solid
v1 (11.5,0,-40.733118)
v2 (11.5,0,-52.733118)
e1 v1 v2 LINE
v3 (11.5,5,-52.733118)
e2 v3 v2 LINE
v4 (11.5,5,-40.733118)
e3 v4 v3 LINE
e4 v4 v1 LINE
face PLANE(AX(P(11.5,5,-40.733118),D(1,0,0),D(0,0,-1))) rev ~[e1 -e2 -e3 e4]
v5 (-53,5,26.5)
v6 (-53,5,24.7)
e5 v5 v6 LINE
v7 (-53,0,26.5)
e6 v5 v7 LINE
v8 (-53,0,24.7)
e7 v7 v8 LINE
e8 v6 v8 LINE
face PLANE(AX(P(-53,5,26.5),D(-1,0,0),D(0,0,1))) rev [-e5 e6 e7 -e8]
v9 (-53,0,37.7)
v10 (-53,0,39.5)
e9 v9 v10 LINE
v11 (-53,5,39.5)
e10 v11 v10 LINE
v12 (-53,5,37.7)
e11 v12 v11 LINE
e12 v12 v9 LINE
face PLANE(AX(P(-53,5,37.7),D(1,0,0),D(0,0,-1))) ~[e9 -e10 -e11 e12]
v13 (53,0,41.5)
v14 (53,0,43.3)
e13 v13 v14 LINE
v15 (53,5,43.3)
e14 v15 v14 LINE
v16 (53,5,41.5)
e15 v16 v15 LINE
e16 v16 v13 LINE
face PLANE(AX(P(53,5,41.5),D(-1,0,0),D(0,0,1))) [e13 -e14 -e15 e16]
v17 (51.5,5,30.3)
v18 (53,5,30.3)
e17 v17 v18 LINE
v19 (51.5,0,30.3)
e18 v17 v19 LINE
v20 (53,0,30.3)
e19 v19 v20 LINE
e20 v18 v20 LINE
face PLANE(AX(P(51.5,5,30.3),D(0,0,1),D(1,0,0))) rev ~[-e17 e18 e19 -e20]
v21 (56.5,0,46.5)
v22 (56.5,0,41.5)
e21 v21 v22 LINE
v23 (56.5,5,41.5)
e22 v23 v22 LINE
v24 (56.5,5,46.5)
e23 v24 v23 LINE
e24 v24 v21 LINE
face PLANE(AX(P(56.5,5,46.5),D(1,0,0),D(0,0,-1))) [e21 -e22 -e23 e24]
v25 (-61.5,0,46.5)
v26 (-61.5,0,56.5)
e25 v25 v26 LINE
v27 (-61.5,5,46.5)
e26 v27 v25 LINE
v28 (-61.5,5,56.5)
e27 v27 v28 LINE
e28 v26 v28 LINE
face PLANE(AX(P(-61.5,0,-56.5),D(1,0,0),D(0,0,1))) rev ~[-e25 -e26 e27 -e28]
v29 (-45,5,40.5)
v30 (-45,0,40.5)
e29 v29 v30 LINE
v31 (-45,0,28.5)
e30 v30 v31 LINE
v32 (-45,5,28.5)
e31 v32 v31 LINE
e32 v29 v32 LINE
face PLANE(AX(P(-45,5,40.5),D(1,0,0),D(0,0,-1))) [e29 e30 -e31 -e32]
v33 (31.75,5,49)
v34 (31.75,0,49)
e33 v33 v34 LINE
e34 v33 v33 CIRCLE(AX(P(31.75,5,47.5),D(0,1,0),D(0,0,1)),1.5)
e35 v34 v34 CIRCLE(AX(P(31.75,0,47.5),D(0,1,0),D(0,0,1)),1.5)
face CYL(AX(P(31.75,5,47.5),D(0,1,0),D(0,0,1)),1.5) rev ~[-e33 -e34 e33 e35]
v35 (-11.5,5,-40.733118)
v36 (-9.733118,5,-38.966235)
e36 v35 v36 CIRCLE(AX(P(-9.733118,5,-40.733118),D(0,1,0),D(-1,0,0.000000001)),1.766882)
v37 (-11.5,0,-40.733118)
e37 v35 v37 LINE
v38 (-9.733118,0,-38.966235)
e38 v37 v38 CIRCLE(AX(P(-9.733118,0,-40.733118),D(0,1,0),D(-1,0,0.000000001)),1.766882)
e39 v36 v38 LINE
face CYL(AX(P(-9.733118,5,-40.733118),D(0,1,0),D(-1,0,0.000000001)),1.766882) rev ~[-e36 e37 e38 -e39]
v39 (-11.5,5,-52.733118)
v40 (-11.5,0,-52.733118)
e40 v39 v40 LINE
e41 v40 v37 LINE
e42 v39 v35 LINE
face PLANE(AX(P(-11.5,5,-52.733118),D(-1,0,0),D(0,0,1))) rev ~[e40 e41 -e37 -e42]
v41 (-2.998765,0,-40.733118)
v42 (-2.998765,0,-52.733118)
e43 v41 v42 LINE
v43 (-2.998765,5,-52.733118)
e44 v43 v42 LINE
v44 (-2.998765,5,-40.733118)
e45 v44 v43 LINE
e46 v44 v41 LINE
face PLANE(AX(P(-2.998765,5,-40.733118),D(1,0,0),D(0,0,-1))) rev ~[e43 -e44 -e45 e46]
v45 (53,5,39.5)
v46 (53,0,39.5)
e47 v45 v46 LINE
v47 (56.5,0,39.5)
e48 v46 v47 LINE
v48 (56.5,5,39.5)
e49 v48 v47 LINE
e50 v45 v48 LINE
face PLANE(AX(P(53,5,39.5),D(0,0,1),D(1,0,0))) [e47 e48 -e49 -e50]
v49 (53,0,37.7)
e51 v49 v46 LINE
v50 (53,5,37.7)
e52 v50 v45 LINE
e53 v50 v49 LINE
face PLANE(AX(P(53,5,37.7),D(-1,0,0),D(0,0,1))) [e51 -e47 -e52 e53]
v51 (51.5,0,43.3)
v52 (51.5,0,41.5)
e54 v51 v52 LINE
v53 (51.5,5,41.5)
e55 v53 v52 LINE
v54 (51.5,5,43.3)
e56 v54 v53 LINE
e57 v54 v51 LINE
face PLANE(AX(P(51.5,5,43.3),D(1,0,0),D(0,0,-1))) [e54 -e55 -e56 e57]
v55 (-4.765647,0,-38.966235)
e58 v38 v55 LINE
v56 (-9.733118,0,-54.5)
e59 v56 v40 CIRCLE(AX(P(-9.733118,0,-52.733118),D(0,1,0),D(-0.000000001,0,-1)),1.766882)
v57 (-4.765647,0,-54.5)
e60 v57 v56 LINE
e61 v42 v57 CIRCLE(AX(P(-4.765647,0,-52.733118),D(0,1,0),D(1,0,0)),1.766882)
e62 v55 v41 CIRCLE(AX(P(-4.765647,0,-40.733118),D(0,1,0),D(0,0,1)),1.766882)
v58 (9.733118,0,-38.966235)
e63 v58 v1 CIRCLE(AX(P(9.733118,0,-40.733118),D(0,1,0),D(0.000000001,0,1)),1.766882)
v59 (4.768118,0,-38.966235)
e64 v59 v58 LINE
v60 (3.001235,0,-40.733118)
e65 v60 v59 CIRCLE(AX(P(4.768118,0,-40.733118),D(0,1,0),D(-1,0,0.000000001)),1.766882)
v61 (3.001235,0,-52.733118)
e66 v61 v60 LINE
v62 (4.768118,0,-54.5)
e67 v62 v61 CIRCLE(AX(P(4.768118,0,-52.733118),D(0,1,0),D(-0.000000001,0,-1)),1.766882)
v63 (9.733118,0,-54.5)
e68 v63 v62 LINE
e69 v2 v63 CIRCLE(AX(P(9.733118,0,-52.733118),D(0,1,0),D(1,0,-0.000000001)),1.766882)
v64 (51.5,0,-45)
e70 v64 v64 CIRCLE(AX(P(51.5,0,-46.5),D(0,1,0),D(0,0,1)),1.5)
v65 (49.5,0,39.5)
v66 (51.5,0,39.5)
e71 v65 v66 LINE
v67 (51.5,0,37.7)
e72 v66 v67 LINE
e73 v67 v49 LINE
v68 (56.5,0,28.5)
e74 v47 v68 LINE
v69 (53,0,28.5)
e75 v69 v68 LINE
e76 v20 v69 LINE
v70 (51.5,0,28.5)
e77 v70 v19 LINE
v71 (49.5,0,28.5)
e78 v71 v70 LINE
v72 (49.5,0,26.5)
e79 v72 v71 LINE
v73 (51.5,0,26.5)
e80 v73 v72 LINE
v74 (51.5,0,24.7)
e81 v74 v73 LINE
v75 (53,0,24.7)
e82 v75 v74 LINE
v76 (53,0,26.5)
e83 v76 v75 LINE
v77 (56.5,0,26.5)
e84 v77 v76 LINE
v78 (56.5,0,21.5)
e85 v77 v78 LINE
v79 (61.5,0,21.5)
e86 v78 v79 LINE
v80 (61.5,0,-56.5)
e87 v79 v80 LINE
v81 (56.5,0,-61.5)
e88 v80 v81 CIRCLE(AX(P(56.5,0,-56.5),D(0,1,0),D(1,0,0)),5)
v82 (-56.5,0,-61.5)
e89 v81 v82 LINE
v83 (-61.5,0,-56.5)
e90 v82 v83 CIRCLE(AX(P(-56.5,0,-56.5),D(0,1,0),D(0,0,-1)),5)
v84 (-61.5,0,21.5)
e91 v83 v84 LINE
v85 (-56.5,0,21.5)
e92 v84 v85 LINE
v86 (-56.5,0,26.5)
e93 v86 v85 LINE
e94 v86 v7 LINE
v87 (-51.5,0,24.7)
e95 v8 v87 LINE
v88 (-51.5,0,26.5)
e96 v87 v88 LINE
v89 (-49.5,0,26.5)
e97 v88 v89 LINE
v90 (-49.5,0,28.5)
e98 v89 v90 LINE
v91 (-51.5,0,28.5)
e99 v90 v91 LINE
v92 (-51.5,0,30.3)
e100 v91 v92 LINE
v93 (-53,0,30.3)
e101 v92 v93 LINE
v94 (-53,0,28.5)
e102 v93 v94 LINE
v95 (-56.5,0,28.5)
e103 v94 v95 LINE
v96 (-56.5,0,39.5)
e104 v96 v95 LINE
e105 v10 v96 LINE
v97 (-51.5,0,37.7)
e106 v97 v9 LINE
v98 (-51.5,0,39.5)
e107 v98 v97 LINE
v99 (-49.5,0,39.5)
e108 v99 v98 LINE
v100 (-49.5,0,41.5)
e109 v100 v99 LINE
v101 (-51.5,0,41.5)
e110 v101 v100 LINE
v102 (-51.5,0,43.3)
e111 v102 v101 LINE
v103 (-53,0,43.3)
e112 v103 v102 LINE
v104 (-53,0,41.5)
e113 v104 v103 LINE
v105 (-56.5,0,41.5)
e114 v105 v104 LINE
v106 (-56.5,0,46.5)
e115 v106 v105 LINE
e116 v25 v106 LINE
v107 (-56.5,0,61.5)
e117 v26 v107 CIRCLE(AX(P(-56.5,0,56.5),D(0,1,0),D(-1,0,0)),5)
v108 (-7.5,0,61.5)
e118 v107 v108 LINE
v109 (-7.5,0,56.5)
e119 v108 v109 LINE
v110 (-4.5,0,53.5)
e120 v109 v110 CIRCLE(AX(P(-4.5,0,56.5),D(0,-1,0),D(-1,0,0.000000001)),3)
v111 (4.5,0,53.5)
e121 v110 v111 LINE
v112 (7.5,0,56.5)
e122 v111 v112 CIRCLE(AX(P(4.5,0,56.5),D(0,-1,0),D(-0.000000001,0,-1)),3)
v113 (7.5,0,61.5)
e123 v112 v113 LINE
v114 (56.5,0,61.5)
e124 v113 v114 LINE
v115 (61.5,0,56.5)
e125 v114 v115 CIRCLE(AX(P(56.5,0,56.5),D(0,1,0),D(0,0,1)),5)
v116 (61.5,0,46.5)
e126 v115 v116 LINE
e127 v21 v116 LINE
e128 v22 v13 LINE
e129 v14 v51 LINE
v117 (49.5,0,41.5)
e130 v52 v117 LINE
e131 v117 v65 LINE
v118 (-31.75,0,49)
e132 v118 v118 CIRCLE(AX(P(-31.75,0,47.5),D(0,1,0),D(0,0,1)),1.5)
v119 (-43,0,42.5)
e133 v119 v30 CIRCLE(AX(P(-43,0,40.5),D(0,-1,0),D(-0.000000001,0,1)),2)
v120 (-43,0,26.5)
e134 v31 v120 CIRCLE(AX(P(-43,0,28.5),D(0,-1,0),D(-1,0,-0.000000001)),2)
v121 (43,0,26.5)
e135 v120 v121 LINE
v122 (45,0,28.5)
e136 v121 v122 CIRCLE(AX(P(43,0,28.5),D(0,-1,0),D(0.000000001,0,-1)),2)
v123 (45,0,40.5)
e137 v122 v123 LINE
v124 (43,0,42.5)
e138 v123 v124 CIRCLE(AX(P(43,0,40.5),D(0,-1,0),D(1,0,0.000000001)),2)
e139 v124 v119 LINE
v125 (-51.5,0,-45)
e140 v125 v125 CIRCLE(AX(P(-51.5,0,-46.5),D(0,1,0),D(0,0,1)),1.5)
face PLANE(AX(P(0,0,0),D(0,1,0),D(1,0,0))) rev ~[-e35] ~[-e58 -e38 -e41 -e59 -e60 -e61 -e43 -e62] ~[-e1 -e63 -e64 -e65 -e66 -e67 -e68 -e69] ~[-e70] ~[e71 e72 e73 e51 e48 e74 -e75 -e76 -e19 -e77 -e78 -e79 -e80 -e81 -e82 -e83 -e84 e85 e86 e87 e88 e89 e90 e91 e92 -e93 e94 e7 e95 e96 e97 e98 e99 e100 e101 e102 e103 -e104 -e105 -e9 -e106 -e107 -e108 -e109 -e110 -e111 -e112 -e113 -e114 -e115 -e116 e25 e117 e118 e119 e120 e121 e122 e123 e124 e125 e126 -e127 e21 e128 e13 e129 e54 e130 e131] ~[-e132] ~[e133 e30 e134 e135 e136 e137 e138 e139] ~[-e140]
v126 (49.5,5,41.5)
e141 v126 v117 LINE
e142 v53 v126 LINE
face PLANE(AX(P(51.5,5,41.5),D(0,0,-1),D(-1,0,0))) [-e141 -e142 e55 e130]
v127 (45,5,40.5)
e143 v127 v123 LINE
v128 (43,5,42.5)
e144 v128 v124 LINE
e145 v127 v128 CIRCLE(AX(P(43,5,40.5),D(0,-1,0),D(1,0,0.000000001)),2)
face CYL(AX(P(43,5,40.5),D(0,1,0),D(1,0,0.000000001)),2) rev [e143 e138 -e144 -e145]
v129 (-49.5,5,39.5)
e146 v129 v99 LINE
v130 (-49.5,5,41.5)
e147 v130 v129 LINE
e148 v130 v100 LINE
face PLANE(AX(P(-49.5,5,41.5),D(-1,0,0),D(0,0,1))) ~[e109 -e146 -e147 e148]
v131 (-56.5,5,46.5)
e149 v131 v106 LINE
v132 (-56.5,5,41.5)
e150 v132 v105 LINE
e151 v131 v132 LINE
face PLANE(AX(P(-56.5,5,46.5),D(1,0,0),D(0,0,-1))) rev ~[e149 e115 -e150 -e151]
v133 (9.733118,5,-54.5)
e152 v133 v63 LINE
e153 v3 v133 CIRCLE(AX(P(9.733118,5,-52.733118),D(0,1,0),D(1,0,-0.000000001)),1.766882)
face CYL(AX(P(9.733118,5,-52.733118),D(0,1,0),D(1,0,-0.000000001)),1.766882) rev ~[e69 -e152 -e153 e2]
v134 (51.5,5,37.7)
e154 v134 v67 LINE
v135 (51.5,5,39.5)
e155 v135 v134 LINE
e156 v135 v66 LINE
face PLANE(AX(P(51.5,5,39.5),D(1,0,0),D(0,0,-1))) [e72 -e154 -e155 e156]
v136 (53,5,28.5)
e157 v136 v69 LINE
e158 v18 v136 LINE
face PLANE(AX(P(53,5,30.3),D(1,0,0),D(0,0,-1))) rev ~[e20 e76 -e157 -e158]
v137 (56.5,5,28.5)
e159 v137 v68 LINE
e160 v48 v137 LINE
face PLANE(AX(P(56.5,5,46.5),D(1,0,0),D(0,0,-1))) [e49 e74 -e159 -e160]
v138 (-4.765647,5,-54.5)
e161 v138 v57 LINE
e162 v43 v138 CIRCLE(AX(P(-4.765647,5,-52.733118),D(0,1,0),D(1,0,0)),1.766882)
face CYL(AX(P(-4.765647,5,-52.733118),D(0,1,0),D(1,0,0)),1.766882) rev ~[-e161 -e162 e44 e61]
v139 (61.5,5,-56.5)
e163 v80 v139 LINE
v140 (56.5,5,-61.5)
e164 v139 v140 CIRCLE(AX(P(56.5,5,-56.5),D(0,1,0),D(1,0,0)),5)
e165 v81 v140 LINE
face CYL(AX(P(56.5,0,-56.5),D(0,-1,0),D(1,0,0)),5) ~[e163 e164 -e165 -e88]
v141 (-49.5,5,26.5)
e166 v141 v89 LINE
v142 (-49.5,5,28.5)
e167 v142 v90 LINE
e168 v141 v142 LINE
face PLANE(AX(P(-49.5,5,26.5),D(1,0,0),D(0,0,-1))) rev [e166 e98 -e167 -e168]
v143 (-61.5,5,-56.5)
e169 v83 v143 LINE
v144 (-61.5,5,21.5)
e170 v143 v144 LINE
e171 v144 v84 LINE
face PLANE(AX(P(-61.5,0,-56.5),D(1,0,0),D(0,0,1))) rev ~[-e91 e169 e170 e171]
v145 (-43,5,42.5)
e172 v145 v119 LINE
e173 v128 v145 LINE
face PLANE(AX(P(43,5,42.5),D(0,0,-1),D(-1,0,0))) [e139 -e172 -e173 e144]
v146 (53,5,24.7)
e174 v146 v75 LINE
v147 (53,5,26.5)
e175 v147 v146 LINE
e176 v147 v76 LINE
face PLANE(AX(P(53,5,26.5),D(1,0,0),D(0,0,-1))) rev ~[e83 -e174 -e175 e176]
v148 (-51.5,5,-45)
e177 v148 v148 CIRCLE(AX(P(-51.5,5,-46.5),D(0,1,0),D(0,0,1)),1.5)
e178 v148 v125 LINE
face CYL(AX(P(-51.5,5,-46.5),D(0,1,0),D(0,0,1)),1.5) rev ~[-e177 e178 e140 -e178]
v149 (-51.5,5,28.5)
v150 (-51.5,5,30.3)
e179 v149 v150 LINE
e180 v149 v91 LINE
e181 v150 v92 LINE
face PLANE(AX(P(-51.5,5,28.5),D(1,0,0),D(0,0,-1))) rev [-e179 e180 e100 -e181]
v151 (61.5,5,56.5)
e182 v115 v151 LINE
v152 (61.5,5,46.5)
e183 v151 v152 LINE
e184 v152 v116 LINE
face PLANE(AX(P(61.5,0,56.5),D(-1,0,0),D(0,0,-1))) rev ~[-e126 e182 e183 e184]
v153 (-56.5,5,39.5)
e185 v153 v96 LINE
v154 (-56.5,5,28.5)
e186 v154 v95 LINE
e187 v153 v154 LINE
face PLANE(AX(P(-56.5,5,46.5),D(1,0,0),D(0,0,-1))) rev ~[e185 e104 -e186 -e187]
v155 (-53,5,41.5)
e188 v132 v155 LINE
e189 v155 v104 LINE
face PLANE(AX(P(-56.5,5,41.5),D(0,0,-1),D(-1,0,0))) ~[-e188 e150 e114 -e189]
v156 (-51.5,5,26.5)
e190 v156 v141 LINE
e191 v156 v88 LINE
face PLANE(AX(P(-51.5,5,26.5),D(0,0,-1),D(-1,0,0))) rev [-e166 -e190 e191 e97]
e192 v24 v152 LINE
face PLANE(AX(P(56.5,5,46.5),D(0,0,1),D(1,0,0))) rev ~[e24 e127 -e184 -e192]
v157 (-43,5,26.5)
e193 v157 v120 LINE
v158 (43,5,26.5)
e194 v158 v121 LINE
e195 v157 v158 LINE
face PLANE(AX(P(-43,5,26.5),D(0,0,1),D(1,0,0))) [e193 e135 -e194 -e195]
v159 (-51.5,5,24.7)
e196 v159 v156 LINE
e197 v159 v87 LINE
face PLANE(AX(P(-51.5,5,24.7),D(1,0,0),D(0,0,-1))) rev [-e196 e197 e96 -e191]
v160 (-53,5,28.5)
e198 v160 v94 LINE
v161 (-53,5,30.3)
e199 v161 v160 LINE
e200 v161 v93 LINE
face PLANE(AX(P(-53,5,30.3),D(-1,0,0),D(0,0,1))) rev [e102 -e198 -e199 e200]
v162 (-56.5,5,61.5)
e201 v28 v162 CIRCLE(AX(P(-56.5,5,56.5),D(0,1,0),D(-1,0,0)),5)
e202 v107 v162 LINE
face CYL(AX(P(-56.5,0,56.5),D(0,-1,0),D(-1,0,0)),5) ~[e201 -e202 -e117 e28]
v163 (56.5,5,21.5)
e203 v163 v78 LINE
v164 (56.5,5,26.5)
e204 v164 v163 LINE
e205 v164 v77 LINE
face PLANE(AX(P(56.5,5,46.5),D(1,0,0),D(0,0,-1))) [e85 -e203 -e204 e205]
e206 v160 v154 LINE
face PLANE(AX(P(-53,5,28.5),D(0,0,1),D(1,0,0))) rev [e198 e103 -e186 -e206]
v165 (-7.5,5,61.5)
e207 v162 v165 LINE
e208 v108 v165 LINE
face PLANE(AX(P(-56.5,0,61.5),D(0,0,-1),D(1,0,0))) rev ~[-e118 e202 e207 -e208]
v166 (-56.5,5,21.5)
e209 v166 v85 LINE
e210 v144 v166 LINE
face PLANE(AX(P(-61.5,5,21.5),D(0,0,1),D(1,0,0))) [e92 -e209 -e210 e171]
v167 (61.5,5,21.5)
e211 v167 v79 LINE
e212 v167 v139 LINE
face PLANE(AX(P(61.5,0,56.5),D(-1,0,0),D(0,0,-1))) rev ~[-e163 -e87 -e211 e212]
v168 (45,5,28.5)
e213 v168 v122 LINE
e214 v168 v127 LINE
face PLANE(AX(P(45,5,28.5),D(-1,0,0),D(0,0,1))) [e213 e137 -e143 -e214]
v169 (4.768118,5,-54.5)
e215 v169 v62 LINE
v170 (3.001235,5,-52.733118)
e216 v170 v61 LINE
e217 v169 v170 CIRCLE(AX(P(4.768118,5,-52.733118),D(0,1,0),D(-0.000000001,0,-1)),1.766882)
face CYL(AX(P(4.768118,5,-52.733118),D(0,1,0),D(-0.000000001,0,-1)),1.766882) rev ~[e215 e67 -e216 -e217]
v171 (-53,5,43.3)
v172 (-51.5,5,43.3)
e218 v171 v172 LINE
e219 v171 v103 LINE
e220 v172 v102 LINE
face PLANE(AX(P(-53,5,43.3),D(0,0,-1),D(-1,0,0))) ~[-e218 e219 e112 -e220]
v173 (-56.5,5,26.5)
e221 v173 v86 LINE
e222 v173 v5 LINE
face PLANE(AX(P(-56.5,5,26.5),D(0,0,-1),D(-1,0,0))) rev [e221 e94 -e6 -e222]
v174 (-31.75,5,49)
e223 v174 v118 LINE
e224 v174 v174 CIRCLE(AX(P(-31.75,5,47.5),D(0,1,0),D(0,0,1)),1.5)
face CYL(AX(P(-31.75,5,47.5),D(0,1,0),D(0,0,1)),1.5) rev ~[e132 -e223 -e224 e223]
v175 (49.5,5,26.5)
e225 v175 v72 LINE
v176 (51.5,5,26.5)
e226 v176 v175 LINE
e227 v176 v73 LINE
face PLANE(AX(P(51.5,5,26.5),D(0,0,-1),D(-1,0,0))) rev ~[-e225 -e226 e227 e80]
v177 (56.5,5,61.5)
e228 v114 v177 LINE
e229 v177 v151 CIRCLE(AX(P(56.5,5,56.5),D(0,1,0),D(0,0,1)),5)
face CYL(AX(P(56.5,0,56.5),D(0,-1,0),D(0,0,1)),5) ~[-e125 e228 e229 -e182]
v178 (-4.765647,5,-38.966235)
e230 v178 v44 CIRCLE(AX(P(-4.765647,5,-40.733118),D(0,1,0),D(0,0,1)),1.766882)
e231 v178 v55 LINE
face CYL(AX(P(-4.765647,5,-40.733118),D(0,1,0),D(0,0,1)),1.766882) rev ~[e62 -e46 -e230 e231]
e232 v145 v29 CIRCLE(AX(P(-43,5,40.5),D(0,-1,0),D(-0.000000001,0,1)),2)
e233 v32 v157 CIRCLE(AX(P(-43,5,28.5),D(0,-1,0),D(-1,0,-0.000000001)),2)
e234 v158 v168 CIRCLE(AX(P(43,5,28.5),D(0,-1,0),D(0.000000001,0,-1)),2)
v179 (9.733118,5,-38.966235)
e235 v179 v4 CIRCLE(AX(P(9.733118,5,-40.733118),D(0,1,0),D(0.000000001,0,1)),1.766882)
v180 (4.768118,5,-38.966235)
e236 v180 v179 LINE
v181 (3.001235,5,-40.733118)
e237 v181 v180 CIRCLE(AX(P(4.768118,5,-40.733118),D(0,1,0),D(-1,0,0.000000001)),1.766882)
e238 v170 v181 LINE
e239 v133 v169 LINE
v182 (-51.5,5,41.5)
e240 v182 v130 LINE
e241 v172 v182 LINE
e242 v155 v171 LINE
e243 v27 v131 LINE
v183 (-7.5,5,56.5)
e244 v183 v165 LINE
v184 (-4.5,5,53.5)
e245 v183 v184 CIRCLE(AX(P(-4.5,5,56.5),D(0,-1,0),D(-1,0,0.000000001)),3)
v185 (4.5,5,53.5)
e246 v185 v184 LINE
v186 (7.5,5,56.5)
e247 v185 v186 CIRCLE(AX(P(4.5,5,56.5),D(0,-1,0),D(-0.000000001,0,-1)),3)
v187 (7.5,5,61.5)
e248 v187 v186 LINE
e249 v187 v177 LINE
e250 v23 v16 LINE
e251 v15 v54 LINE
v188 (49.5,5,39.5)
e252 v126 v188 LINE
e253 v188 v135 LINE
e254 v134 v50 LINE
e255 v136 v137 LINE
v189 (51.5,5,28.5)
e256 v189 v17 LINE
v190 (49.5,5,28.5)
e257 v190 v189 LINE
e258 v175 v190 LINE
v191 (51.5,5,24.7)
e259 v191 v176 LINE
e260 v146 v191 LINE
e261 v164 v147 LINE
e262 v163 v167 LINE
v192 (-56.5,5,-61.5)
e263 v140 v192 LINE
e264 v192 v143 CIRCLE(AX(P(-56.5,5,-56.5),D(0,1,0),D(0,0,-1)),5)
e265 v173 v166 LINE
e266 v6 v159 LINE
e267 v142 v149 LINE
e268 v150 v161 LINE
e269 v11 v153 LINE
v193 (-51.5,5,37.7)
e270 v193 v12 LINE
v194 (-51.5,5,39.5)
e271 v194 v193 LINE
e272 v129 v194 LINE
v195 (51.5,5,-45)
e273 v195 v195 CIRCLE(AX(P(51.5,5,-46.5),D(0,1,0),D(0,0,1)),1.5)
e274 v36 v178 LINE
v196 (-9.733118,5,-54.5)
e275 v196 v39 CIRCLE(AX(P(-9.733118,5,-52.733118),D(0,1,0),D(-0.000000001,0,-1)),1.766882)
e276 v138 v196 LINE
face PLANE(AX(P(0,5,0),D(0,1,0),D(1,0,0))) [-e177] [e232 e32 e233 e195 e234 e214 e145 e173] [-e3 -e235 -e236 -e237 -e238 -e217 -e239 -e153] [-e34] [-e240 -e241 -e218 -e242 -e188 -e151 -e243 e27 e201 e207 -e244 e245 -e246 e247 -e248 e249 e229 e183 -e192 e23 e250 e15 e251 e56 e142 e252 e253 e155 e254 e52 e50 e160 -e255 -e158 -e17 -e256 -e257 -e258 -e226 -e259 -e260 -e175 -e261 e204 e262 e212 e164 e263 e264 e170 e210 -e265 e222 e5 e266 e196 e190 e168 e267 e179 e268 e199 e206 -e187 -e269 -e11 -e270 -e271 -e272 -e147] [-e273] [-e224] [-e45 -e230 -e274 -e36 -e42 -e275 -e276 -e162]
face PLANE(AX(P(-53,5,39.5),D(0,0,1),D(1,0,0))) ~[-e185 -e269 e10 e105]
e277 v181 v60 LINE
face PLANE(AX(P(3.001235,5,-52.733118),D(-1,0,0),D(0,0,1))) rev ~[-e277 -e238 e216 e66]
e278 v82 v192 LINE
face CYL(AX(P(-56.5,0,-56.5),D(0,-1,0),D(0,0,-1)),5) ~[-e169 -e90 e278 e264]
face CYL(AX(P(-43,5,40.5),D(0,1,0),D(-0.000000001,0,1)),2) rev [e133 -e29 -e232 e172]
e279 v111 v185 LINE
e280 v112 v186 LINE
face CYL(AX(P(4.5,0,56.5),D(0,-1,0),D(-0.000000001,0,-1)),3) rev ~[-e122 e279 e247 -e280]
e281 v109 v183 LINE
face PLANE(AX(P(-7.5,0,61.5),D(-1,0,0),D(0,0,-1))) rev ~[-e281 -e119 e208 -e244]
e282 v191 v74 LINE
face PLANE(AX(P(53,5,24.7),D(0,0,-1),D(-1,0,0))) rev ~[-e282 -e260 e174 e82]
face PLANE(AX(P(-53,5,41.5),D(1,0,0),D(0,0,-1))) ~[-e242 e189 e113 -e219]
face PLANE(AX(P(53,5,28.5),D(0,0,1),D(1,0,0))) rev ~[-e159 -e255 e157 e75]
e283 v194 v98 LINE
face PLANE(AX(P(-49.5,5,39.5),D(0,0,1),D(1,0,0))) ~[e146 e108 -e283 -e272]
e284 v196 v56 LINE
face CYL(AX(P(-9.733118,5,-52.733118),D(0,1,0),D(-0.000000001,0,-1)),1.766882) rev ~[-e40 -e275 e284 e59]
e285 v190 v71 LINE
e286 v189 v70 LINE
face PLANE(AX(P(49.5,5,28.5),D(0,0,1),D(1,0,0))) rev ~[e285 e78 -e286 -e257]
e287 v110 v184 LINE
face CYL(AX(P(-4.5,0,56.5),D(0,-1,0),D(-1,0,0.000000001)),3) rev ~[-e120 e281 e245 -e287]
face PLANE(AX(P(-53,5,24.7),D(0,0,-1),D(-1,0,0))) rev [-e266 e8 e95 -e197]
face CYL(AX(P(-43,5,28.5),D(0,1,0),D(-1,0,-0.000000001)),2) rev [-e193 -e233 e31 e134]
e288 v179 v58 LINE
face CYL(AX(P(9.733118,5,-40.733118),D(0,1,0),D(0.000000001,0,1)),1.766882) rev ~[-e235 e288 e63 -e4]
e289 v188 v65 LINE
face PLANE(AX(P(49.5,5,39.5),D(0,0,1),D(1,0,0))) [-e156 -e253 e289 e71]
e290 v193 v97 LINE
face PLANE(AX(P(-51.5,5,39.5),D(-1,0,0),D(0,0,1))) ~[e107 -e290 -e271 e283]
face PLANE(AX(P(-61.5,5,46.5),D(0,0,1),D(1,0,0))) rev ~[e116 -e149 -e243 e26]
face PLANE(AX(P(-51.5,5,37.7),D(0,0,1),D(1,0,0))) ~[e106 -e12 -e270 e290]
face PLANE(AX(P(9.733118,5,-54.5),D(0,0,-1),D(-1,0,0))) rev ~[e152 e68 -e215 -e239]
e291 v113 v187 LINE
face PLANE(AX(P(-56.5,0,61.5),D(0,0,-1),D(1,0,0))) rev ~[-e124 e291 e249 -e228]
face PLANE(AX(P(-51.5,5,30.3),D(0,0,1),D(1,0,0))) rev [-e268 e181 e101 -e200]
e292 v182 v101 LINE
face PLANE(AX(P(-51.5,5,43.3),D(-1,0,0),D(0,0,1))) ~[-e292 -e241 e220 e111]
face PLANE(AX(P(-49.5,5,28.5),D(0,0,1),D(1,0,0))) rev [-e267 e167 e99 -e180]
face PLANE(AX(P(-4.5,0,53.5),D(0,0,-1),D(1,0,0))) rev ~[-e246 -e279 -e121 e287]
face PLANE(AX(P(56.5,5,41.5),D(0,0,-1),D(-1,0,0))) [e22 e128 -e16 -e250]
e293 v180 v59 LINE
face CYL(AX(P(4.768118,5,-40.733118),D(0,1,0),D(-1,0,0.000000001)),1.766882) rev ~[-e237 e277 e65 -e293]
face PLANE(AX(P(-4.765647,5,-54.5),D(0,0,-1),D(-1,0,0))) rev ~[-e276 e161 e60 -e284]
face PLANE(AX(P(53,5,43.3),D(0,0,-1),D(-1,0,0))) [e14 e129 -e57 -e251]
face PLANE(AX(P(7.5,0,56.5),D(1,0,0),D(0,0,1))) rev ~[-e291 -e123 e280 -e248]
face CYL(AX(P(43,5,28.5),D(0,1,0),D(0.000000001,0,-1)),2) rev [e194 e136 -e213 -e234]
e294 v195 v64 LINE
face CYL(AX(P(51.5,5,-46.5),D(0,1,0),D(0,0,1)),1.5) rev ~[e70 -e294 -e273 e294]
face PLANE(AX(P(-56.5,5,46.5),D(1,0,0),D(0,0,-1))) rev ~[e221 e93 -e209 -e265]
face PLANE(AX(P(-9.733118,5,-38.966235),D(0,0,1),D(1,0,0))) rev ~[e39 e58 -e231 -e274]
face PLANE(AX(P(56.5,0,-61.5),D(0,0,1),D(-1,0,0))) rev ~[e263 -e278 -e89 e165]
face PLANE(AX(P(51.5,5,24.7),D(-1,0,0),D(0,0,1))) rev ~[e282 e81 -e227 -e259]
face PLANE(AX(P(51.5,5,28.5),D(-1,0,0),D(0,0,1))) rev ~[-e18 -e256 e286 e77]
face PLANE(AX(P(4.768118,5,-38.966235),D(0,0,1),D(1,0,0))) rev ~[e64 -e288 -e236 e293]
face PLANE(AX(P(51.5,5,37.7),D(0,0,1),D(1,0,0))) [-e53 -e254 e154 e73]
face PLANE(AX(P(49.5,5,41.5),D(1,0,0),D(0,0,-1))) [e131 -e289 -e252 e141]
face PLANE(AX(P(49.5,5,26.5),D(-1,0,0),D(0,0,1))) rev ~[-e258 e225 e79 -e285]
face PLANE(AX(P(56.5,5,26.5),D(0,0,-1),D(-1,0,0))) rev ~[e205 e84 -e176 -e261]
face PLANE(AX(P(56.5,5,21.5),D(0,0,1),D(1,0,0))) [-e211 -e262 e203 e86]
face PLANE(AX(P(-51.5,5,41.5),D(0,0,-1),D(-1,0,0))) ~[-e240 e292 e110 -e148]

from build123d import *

# Parameters (mm, degrees)
RESSALTO_EXTRUS_O1_DEPTH = 5
CORTE_EXTRUS_O1_DEPTH    = 5
ESBO_O3_W                = 5
ESBO_O3_H                = 25
CORTE_EXTRUS_O3_DEPTH    = 5
CORTE_EXTRUS_O4_DEPTH    = 10
CORTE_EXTRUS_O5_DEPTH    = 5
ESBO_O6_R                = 1.5
CORTE_EXTRUS_O6_DEPTH    = 20
CORTE_EXTRUS_O7_DEPTH    = 10


with BuildPart() as part:
    # Esboço1 → Ressalto-extrusão1 (new body)
    with BuildSketch(Plane(origin=(0, 0, 0), x_dir=(1, 0, 0), z_dir=(0, 1, 0))):
        with BuildLine():
            Line((-56.5, -61.5), (56.5, -61.5))
            ThreePointArc((56.5, -61.5), (60.035533906, -60.035533906), (61.5, -56.5))
            Line((61.5, -56.5), (61.5, 56.5))
            ThreePointArc((61.5, 56.5), (60.035533906, 60.035533906), (56.5, 61.5))
            Line((56.5, 61.5), (-56.5, 61.5))
            ThreePointArc((-56.5, 61.5), (-60.035533906, 60.035533906), (-61.5, 56.5))
            Line((-61.5, 56.5), (-61.5, -56.5))
            ThreePointArc((-61.5, -56.5), (-60.035533906, -60.035533906), (-56.5, -61.5))
        make_face()
    extrude(amount=RESSALTO_EXTRUS_O1_DEPTH)

    # Esboço2 → Corte-extrusão1 (cut)
    with BuildSketch(Plane(origin=(0, 5, 0), x_dir=(1, 0, 0), z_dir=(0, 1, 0))):
        with BuildLine():
            Line((-4.765646957, 54.5), (-9.733117681, 54.5))
            ThreePointArc((-9.733117681, 54.5), (-10.98249215, 53.98249215), (-11.5, 52.733117681))
            Line((-11.5, 52.733117681), (-11.5, 40.733117681))
            ThreePointArc((-11.5, 40.733117681), (-10.98249215, 39.483743212), (-9.733117681, 38.966235362))
            Line((-9.733117681, 38.966235362), (-4.765646957, 38.966235362))
            ThreePointArc((-4.765646957, 38.966235362), (-3.516272487, 39.483743212), (-2.998764638, 40.733117681))
            Line((-2.998764638, 40.733117681), (-2.998764638, 52.733117681))
            ThreePointArc((-2.998764638, 52.733117681), (-3.516272487, 53.98249215), (-4.765646957, 54.5))
        make_face()
        with BuildLine():
            Line((4.768117681, 38.966235362), (9.733117681, 38.966235362))
            ThreePointArc((9.733117681, 38.966235362), (10.98249215, 39.483743212), (11.5, 40.733117681))
            Line((11.5, 40.733117681), (11.5, 52.733117681))
            ThreePointArc((11.5, 52.733117681), (10.98249215, 53.98249215), (9.733117681, 54.5))
            Line((9.733117681, 54.5), (4.768117681, 54.5))
            ThreePointArc((4.768117681, 54.5), (3.518743212, 53.98249215), (3.001235362, 52.733117681))
            Line((3.001235362, 52.733117681), (3.001235362, 40.733117681))
            ThreePointArc((3.001235362, 40.733117681), (3.518743212, 39.483743212), (4.768117681, 38.966235362))
        make_face()
    extrude(amount=-CORTE_EXTRUS_O1_DEPTH, mode=Mode.SUBTRACT)

    # Esboço3 → Corte-extrusão3 (cut)
    with BuildSketch(Plane(origin=(0, 5, 0), x_dir=(1, 0, 0), z_dir=(0, 1, 0))):
        with Locations((-59, -34)):
            Rectangle(ESBO_O3_W, ESBO_O3_H)
        with Locations((59, -34)):
            Rectangle(ESBO_O3_W, ESBO_O3_H)
    extrude(amount=-CORTE_EXTRUS_O3_DEPTH, mode=Mode.SUBTRACT)

    # Esboço4 → Corte-extrusão4 (cut)
    with BuildSketch(Plane(origin=(0, 5, 0), x_dir=(1, 0, 0), z_dir=(0, 1, 0))):
        Polygon((56.5, -41.5), (53, -41.5), (53, -43.3), (51.5, -43.3), (51.5, -41.5), (49.5, -41.5), (49.5, -39.5), (51.5, -39.5), (51.5, -37.7), (53, -37.7), (53, -39.5), (56.5, -39.5), align=None)
        Polygon((56.5, -26.5), (53, -26.5), (53, -24.7), (51.5, -24.7), (51.5, -26.5), (49.5, -26.5), (49.5, -28.5), (51.5, -28.5), (51.5, -30.3), (53, -30.3), (53, -28.5), (56.5, -28.5), align=None)
    corte_extrus_o4 = extrude(amount=-CORTE_EXTRUS_O4_DEPTH, mode=Mode.SUBTRACT)

    # Espelhar1: Corte-extrusão4 across plane
    add(corte_extrus_o4.mirror(Plane(origin=(0, 0, 0), x_dir=(0, 0, 1), z_dir=(1, 0, 0))), mode=Mode.SUBTRACT)

    # Esboço5 → Corte-extrusão5 (cut)
    with BuildSketch(Plane(origin=(0, 5, 0), x_dir=(1, 0, 0), z_dir=(0, 1, 0))):
        with BuildLine():
            Line((43, -42.5), (-43, -42.5))
            ThreePointArc((-43, -42.5), (-44.414213562, -41.914213562), (-45, -40.5))
            Line((-45, -40.5), (-45, -28.5))
            ThreePointArc((-45, -28.5), (-44.414213562, -27.085786438), (-43, -26.5))
            Line((-43, -26.5), (43, -26.5))
            ThreePointArc((43, -26.5), (44.414213562, -27.085786438), (45, -28.5))
            Line((45, -28.5), (45, -40.5))
            ThreePointArc((45, -40.5), (44.414213562, -41.914213562), (43, -42.5))
        make_face()
    extrude(amount=-CORTE_EXTRUS_O5_DEPTH, mode=Mode.SUBTRACT)

    # Esboço6 → Corte-extrusão6 (cut)
    with BuildSketch(Plane(origin=(0, 5, 0), x_dir=(1, 0, 0), z_dir=(0, 1, 0))):
        with Locations(Location((-51.5, 46.5, 0), (0, 0, 270))):
            Circle(ESBO_O6_R)
        with Locations(Location((51.5, 46.5, 0), (0, 0, 270))):
            Circle(ESBO_O6_R)
        with Locations(Location((31.75, -47.5, 0), (0, 0, 270))):
            Circle(ESBO_O6_R)
        with Locations(Location((-31.75, -47.5, 0), (0, 0, 270))):
            Circle(ESBO_O6_R)
    extrude(amount=-CORTE_EXTRUS_O6_DEPTH, mode=Mode.SUBTRACT)

    # Esboço7 → Corte-extrusão7 (cut)
    with BuildSketch(Plane.XZ):
        with BuildLine():
            Line((7.5, 61.5), (-7.5, 61.5))
            Line((-7.5, 61.5), (-7.5, 56.5))
            ThreePointArc((-7.5, 56.5), (-6.621320344, 54.378679656), (-4.5, 53.5))
            Line((-4.5, 53.5), (4.5, 53.5))
            ThreePointArc((4.5, 53.5), (6.621320344, 54.378679656), (7.5, 56.5))
            Line((7.5, 56.5), (7.5, 61.5))
        make_face()
    extrude(amount=-CORTE_EXTRUS_O7_DEPTH, mode=Mode.SUBTRACT)


solid = part.part
